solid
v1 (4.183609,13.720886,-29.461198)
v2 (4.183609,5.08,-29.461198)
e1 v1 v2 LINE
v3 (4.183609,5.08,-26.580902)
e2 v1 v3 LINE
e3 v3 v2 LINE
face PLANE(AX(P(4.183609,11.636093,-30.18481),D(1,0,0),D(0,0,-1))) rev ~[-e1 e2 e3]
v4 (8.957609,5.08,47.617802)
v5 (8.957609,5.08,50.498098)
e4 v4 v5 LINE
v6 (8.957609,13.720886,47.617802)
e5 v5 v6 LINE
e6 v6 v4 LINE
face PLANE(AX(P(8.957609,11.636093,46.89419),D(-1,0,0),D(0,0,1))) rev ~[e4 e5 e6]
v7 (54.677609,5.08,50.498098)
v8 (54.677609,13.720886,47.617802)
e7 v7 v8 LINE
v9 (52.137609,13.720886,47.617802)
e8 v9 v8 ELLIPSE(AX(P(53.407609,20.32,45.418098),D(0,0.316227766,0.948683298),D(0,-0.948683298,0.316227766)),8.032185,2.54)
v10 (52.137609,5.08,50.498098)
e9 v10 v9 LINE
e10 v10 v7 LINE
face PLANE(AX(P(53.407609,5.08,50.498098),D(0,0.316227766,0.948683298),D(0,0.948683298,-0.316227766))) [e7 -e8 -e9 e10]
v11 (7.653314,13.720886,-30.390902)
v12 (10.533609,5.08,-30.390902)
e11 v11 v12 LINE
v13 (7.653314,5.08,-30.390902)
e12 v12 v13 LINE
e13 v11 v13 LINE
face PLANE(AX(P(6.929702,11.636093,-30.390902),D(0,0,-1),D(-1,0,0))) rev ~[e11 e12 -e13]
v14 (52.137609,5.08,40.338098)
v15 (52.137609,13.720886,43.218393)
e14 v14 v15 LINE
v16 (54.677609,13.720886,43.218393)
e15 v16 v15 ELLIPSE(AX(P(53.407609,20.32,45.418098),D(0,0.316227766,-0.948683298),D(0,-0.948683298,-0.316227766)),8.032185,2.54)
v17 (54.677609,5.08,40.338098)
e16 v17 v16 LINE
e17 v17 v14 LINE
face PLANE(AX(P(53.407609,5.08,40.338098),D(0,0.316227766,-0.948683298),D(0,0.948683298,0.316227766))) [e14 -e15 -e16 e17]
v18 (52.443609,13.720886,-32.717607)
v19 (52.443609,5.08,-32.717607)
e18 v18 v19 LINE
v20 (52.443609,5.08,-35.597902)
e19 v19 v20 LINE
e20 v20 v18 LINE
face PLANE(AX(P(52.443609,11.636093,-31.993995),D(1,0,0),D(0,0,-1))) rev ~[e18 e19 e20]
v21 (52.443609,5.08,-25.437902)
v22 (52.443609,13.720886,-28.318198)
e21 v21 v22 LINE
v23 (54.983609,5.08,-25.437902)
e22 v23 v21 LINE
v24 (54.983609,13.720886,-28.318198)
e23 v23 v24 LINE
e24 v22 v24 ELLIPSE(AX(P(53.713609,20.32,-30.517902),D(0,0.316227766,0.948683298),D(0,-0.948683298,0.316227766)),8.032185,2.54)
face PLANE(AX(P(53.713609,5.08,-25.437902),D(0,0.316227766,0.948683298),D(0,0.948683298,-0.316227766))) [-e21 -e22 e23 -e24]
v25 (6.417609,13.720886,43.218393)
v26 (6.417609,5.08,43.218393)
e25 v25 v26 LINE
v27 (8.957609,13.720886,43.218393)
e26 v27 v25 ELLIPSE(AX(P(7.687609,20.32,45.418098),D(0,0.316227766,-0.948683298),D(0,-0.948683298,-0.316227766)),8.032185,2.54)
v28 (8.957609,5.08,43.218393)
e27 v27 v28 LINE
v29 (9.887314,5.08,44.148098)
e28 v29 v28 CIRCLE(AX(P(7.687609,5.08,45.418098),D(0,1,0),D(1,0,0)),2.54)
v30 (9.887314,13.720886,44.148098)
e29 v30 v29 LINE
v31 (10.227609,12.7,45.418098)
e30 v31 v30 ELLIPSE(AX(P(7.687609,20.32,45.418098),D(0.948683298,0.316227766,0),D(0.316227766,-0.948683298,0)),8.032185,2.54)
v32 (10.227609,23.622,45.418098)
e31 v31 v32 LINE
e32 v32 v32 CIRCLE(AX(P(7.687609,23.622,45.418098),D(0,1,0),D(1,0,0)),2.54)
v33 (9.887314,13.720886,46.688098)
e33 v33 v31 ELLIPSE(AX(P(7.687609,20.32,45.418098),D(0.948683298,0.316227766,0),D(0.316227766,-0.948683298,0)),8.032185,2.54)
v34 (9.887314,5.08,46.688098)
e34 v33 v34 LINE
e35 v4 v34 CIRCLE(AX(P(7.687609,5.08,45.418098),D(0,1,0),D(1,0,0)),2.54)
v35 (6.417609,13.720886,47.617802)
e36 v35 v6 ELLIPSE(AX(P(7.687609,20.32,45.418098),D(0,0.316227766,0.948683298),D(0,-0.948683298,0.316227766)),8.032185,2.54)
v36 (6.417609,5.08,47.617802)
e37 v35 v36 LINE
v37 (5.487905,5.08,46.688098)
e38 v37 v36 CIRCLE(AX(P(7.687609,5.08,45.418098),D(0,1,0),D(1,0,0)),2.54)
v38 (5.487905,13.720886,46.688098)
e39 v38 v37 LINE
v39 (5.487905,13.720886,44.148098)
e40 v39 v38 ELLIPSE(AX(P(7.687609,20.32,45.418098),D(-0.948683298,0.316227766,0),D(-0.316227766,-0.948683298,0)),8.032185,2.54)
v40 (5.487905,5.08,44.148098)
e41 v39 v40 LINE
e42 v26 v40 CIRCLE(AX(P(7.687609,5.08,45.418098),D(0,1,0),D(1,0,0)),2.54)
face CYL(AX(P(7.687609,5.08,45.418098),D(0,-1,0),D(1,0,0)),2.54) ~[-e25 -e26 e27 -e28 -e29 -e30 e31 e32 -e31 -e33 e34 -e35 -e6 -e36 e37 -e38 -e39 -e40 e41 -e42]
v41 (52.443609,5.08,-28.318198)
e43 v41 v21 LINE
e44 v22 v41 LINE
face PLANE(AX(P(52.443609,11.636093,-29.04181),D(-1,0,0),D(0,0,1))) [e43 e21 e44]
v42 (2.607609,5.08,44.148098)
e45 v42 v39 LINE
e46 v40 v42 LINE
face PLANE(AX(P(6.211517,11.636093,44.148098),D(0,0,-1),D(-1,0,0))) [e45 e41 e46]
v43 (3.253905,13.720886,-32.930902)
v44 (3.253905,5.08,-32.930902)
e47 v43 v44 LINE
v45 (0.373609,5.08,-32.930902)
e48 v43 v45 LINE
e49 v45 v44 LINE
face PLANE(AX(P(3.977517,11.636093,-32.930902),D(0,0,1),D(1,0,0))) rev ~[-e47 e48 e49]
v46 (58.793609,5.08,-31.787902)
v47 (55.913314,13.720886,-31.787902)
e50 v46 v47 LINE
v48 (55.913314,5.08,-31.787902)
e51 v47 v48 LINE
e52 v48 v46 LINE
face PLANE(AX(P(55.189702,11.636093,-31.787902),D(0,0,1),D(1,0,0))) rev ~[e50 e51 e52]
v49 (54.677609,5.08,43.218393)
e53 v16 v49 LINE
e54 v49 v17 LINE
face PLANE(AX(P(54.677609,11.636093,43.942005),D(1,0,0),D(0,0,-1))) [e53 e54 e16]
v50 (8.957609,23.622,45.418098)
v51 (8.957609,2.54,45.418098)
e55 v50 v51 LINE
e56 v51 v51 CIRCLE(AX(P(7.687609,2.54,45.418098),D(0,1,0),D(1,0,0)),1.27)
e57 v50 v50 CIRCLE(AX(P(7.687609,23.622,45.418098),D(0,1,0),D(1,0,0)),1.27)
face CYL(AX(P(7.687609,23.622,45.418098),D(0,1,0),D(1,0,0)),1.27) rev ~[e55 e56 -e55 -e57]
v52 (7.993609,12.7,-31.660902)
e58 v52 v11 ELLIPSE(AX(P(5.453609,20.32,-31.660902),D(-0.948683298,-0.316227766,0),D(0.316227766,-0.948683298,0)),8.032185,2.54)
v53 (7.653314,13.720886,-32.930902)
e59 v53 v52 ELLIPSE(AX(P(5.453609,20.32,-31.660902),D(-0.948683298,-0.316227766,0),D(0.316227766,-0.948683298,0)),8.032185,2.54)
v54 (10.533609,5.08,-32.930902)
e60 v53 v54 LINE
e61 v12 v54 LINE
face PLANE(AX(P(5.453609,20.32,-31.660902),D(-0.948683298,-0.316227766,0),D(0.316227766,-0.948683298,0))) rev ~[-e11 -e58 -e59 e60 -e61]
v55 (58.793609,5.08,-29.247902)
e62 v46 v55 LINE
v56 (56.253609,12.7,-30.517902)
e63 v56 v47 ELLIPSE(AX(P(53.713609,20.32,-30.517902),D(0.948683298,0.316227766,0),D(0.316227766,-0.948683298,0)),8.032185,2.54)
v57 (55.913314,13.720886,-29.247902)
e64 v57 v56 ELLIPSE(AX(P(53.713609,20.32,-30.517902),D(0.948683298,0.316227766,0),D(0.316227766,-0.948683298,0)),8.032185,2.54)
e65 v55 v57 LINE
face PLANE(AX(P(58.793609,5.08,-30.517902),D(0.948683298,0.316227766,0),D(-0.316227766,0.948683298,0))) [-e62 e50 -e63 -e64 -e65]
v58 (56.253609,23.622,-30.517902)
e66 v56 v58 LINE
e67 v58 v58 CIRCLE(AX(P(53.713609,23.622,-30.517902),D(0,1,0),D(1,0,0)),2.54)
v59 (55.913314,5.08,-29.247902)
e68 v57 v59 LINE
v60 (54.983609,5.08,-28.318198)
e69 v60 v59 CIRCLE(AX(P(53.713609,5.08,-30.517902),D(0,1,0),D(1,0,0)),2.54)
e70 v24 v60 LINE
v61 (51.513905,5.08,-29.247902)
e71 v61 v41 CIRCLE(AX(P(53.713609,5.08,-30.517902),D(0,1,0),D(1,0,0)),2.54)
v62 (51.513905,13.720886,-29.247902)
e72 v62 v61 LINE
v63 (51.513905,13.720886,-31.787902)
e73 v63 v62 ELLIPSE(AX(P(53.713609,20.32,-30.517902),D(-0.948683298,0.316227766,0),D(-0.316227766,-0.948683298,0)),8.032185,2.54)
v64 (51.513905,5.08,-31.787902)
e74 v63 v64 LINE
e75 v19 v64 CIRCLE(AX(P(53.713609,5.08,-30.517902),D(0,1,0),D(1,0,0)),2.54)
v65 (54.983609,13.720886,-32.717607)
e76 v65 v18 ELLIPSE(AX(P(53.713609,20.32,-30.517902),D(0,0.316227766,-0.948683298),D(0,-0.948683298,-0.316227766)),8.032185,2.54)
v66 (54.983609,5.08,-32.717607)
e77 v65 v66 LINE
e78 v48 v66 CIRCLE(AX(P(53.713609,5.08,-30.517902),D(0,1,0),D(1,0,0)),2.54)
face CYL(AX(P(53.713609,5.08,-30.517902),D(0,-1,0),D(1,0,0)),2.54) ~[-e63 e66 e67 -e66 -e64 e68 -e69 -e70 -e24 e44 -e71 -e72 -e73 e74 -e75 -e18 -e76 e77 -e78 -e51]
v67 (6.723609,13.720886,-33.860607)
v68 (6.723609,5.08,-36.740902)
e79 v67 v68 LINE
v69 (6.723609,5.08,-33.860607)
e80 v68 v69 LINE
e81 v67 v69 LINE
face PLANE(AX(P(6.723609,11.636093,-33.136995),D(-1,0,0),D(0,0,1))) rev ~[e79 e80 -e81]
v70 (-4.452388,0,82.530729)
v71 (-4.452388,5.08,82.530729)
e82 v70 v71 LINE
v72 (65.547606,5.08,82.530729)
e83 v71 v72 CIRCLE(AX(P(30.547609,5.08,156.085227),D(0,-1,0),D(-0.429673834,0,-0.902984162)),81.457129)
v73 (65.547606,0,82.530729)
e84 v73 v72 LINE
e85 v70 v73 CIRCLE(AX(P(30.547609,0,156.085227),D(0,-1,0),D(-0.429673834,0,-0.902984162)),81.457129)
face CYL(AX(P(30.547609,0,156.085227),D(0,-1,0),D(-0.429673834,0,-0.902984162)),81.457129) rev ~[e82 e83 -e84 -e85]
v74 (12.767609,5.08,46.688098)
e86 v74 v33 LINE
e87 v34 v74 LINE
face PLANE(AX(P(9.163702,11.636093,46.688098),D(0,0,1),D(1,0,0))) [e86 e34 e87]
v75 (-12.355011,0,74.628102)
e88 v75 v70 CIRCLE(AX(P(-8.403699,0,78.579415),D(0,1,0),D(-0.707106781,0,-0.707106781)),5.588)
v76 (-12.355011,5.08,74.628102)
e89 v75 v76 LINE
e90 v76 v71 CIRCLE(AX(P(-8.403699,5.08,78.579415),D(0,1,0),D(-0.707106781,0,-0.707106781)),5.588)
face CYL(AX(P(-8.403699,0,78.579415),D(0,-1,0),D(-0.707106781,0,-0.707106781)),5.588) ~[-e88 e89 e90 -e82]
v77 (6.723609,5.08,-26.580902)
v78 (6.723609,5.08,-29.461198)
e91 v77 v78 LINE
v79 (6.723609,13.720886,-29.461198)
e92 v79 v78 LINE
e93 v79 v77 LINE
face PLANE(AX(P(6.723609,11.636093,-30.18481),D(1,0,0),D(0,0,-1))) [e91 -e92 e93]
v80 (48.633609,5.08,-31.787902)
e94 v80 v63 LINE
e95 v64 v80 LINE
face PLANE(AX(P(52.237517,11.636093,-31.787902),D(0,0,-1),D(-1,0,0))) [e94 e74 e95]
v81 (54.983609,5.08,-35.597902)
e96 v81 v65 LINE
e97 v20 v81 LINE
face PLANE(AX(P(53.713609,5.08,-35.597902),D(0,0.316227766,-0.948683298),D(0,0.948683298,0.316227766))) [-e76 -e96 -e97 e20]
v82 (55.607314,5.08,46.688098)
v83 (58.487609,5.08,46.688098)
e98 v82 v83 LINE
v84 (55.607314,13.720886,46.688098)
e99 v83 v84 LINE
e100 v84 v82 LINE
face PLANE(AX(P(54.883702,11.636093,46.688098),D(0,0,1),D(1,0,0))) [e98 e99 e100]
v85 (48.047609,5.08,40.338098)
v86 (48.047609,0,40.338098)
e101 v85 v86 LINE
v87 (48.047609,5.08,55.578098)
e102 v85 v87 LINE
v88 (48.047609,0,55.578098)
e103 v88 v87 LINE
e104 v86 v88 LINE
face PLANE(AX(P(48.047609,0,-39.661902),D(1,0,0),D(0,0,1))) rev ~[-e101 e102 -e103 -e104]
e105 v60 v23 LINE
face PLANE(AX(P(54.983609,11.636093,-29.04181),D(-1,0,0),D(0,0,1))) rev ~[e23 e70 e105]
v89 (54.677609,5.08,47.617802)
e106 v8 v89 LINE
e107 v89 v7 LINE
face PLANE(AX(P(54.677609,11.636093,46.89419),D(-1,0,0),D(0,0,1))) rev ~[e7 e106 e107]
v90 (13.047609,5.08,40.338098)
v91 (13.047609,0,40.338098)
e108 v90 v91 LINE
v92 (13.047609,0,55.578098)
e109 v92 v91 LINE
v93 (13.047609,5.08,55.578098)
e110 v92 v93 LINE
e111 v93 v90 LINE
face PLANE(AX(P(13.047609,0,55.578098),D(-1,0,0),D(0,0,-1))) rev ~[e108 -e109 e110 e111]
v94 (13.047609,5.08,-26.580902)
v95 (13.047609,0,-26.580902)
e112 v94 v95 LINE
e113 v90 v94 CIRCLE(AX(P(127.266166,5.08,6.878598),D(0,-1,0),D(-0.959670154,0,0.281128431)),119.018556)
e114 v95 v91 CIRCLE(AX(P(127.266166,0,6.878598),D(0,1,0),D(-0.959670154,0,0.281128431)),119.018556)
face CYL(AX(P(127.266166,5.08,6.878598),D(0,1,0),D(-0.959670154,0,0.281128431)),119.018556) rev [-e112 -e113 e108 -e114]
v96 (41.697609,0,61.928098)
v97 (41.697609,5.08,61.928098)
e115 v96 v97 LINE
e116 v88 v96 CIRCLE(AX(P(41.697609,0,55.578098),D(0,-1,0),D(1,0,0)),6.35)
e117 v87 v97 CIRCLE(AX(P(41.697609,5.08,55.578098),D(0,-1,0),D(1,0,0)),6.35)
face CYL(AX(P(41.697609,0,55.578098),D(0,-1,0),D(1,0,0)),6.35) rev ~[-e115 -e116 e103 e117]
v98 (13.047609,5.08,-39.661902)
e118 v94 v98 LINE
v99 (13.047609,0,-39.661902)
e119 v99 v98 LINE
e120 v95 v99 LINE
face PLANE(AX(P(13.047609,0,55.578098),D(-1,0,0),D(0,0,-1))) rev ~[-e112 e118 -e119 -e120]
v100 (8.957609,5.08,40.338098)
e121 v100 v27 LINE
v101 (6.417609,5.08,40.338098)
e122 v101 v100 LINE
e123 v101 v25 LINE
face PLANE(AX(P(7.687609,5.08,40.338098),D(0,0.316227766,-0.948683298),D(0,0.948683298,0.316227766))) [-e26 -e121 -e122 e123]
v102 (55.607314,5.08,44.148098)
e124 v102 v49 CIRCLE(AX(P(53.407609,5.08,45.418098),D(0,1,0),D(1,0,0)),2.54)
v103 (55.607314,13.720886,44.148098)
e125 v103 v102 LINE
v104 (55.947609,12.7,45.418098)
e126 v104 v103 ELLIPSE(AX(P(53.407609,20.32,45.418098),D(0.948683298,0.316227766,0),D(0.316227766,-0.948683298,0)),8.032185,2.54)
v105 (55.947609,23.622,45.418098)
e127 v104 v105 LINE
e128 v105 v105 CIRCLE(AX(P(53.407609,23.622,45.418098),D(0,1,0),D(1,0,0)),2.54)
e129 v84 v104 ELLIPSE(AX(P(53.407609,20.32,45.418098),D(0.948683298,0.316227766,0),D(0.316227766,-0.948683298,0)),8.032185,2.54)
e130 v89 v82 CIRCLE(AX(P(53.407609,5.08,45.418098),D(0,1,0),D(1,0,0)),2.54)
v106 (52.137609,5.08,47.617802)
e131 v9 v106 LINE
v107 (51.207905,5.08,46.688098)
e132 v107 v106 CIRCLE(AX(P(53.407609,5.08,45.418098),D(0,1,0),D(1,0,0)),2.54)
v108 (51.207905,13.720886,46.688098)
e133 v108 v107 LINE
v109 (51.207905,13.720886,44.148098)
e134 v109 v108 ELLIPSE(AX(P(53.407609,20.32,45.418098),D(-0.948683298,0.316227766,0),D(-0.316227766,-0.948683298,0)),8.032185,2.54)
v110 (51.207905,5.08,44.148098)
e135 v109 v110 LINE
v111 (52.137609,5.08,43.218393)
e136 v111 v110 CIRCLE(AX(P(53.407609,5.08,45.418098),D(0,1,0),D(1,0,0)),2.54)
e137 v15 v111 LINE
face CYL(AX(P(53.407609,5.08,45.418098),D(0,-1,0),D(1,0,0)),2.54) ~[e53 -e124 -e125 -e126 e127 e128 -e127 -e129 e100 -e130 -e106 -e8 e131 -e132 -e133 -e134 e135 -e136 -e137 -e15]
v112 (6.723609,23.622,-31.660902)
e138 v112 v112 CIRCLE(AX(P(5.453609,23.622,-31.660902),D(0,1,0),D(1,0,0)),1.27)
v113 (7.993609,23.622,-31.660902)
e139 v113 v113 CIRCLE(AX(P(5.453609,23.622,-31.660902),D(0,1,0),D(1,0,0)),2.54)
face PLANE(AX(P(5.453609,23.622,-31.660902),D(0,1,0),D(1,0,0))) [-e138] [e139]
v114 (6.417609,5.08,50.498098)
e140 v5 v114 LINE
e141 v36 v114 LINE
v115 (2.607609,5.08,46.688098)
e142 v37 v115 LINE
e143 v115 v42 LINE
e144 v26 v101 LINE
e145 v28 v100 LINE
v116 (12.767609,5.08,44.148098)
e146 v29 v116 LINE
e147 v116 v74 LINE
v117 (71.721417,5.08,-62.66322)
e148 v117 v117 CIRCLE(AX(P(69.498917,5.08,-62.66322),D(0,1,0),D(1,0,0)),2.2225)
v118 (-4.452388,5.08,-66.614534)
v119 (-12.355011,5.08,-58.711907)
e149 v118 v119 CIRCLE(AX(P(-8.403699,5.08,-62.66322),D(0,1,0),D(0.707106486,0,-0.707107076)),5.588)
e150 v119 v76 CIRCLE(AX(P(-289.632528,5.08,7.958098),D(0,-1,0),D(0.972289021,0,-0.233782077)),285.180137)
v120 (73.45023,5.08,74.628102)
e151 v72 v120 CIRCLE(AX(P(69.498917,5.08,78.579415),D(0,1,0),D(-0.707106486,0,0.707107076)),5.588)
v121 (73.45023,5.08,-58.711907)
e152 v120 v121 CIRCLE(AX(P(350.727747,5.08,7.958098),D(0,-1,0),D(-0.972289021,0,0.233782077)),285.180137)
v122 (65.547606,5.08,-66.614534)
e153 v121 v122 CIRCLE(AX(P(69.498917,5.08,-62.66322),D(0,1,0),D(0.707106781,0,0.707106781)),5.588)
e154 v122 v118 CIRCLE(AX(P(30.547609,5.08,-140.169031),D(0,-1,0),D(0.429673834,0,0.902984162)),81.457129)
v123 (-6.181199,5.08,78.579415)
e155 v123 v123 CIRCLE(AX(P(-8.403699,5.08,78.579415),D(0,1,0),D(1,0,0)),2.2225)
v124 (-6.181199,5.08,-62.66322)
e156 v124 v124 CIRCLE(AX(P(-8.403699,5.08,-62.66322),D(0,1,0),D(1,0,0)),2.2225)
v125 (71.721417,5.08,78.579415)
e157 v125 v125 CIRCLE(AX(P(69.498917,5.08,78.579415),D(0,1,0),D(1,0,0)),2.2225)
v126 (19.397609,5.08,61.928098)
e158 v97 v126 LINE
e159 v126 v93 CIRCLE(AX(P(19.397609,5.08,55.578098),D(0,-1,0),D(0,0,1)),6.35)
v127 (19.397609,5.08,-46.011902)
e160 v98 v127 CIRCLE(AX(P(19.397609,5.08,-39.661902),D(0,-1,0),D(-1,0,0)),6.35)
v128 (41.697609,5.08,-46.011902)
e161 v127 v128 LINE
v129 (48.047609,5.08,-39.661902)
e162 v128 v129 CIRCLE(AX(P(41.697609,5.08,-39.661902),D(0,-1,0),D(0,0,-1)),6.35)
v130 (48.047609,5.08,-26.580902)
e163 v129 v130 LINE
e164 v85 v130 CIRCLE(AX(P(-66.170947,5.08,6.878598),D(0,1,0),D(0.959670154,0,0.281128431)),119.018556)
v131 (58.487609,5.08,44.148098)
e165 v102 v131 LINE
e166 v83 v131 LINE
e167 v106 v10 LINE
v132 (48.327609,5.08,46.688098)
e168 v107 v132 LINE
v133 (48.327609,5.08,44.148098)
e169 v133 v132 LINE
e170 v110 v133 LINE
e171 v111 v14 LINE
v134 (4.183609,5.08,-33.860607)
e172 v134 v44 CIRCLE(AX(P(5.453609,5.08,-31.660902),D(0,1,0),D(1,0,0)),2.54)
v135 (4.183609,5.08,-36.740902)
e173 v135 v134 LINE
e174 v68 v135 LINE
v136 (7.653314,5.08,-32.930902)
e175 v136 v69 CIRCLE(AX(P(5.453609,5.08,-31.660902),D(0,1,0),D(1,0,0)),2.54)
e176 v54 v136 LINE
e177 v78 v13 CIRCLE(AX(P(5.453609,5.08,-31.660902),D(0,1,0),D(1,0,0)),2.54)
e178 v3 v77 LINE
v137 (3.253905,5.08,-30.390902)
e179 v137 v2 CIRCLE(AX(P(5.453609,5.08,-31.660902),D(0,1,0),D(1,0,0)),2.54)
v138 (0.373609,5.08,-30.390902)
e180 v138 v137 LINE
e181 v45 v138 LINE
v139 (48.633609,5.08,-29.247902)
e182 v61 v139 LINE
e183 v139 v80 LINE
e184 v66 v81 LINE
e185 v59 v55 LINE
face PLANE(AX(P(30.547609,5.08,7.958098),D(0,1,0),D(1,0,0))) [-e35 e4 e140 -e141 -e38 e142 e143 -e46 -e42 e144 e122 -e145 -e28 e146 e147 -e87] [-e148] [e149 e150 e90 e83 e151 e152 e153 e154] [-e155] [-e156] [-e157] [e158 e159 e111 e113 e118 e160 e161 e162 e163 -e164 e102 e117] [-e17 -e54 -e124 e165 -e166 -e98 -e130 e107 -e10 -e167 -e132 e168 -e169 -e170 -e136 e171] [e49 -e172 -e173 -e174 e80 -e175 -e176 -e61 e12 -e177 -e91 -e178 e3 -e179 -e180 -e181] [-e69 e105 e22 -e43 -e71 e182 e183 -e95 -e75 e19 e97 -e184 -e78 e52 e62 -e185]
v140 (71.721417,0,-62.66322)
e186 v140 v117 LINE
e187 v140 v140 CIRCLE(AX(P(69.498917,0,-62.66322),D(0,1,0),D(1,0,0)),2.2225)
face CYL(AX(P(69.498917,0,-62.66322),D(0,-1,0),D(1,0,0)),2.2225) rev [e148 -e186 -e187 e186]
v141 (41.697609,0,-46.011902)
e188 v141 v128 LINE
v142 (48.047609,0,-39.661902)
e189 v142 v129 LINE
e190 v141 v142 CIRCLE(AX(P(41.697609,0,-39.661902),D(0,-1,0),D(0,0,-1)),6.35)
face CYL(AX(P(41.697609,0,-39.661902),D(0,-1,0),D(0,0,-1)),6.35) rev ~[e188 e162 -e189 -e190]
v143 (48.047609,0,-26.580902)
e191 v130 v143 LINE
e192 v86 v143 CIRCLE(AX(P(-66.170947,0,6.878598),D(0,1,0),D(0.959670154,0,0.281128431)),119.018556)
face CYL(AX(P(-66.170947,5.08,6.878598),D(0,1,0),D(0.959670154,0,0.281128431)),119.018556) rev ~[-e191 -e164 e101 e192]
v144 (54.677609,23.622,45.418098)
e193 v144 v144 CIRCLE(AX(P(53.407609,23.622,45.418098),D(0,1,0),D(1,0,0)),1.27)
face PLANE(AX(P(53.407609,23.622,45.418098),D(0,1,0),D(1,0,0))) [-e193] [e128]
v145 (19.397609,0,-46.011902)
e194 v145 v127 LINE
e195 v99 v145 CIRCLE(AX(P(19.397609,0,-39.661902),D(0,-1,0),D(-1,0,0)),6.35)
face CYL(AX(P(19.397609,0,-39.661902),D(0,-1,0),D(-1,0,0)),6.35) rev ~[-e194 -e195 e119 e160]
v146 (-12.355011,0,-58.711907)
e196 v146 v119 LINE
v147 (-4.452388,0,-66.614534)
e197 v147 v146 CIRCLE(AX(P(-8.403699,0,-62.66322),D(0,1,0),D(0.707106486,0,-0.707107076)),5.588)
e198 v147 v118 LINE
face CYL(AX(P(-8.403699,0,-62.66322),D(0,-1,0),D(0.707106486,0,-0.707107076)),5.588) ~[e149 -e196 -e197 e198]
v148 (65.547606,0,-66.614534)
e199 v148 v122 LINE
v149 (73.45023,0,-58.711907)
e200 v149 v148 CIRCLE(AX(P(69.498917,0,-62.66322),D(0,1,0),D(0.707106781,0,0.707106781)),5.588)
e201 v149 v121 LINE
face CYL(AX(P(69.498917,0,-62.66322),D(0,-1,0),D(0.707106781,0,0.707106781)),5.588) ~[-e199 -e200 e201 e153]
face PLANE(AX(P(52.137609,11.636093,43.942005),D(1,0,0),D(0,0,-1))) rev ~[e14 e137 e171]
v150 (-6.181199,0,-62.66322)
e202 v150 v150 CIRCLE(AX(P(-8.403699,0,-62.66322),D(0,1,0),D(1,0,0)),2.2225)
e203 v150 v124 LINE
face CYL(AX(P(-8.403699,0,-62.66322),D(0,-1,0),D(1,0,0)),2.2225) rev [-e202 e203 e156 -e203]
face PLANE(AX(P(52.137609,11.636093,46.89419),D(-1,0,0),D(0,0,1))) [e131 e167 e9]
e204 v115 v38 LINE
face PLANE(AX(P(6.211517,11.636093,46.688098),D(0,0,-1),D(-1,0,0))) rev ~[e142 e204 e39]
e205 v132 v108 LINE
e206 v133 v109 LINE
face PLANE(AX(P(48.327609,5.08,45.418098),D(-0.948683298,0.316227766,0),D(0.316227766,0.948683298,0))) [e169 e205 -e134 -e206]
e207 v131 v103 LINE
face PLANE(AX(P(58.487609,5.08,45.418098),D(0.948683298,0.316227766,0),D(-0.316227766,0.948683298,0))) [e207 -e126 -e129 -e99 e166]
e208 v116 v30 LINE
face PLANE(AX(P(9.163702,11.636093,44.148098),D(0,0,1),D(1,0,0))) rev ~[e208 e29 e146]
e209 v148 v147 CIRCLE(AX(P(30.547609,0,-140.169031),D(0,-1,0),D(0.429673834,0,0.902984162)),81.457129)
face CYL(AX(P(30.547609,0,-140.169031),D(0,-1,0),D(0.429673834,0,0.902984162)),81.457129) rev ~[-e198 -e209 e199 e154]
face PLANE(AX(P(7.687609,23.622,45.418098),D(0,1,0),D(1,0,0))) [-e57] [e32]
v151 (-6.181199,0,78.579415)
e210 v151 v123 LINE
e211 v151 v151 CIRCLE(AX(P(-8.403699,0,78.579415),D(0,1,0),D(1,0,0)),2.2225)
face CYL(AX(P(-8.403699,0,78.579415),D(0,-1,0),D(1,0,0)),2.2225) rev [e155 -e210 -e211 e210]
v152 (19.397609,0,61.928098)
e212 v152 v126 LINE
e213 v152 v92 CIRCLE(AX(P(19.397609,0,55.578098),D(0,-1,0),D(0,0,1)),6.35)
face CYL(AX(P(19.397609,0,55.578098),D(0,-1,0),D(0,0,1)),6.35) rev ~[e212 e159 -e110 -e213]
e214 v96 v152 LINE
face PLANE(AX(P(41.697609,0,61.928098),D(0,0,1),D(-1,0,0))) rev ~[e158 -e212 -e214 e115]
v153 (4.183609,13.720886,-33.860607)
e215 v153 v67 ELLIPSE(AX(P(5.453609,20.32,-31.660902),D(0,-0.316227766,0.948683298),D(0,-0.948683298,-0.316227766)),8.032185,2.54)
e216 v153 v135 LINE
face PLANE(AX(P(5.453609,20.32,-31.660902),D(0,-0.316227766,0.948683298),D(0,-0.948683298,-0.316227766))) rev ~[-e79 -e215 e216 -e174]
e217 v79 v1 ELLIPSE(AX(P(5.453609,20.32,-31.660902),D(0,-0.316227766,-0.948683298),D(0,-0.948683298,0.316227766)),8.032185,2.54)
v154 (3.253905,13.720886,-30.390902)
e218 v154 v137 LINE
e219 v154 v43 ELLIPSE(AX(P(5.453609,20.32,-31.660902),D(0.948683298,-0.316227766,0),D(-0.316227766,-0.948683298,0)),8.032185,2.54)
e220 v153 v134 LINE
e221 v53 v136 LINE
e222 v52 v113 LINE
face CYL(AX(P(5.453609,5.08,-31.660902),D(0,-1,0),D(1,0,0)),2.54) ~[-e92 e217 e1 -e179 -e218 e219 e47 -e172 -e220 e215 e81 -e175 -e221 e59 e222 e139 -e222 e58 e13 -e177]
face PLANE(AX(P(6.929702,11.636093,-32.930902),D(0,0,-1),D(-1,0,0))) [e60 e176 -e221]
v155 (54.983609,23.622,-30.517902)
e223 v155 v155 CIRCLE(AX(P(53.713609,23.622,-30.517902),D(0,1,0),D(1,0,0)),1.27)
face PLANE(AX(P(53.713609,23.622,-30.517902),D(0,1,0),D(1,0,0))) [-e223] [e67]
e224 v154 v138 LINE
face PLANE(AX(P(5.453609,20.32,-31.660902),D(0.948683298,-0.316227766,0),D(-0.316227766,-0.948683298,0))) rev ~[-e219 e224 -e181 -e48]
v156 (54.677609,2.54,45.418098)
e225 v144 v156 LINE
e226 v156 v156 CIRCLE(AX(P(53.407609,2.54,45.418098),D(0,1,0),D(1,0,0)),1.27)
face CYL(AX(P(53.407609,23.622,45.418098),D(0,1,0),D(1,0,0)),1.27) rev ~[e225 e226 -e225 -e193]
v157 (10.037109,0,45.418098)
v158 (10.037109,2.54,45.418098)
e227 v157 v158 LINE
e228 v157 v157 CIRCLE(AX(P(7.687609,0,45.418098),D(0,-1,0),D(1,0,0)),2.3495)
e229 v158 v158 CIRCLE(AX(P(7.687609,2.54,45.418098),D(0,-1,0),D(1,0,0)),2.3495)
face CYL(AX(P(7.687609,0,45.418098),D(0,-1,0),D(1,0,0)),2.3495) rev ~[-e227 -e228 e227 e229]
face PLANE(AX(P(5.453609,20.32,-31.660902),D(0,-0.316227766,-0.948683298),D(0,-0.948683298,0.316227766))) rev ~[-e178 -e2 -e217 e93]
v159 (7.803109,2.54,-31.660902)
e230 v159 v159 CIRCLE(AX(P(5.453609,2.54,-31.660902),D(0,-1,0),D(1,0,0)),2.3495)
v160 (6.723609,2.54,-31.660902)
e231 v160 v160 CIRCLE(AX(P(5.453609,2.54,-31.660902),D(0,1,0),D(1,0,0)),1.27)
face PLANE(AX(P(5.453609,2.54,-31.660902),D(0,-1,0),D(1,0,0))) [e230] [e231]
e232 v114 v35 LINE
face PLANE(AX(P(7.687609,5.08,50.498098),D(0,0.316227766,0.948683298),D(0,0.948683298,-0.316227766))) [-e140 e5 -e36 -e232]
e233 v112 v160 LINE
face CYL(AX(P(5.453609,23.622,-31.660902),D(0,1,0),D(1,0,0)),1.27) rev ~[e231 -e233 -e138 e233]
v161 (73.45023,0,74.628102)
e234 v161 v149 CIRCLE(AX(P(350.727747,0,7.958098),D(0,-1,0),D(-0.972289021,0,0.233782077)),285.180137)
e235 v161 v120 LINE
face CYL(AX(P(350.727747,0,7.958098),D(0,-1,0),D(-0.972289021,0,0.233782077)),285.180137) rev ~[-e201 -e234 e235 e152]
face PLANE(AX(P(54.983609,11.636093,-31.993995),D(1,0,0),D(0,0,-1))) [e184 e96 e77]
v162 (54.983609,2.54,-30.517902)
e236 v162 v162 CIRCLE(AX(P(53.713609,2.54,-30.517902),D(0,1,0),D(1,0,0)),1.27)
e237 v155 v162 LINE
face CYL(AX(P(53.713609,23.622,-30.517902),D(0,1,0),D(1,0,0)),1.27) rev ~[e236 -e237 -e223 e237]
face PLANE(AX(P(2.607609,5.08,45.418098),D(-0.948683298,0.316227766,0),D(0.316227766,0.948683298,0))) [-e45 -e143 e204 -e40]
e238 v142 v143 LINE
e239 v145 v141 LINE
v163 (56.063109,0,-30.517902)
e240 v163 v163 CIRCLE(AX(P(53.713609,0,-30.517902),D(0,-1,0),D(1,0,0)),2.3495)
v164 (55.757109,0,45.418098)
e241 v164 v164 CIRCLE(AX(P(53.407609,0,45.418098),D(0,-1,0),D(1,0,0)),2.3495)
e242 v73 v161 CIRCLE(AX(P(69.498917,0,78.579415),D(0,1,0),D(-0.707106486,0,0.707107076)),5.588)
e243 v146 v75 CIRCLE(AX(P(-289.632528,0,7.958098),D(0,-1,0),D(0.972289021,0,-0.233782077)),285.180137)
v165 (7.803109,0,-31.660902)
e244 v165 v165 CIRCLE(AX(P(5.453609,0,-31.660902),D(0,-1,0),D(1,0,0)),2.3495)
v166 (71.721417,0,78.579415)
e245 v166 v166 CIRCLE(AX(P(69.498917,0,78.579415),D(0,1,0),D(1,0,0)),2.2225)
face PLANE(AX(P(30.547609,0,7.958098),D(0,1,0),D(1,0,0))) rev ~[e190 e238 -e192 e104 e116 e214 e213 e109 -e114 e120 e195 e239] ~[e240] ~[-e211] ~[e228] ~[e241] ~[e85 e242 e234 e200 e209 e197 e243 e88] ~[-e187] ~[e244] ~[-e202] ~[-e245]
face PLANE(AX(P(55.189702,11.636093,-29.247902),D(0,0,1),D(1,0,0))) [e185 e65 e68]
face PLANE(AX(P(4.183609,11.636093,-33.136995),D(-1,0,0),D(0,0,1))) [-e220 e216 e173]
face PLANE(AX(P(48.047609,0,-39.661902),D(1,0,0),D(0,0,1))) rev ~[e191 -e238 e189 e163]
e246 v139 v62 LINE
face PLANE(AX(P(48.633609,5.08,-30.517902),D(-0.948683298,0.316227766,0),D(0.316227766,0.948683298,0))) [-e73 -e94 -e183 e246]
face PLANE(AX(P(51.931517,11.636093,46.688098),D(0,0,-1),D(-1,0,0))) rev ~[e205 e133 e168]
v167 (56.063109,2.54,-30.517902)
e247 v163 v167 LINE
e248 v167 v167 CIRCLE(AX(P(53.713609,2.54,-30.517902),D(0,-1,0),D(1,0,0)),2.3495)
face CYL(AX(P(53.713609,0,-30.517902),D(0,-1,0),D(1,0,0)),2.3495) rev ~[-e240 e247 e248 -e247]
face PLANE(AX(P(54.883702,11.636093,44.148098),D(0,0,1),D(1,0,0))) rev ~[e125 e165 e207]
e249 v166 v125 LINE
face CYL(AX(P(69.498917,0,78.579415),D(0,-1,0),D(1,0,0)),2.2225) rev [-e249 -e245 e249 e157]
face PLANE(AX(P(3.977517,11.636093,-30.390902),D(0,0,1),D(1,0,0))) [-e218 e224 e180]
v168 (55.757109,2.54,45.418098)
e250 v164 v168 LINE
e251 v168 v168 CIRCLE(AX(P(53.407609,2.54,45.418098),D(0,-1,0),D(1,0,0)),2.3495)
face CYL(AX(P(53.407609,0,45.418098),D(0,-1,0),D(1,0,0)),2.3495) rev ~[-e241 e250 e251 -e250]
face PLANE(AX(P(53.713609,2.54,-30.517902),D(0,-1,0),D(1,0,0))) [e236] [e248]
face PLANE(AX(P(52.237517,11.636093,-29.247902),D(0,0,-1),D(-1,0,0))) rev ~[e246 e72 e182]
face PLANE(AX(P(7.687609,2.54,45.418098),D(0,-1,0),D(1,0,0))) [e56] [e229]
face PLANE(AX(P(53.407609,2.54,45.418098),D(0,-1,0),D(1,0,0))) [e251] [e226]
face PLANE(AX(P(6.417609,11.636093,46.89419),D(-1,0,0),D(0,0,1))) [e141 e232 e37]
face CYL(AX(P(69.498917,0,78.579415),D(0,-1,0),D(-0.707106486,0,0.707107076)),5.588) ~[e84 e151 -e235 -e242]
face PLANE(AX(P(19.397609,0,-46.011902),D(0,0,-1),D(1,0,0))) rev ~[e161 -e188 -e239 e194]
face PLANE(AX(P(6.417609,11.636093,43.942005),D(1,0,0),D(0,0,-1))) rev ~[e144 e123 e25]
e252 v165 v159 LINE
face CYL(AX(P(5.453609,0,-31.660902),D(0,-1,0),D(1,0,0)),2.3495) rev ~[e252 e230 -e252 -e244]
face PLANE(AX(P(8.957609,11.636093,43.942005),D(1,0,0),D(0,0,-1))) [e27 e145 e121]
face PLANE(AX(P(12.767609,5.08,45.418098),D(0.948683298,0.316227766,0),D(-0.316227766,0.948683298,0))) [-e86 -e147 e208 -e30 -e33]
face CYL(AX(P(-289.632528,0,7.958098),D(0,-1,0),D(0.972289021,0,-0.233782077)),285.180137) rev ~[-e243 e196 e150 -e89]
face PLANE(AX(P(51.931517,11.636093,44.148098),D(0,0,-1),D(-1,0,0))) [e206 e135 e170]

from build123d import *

# Parameters (mm, degrees)
SKETCH2_R           = 2.2225
BOSS_EXTRUDE1_DEPTH = 5.08
SKETCH3_R           = 2.54
BOSS_EXTRUDE2_DEPTH = 18.542
CUT_EXTRUDE3_DEPTH  = 115.306625788
BOSS_EXTRUDE4_DEPTH = 1.27
BOSS_EXTRUDE5_DEPTH = 1.27
BOSS_EXTRUDE6_DEPTH = 1.27
CIRPATTERN2_COUNT   = 4
CIRPATTERN3_COUNT   = 4
CIRPATTERN4_COUNT   = 4
BOSS_EXTRUDE7_DEPTH = 1.27
CIRPATTERN5_COUNT   = 4
SKETCH4_R           = 1.27
CUT_EXTRUDE1_DEPTH  = 116.239740624
SKETCH15_R          = 2.3495
CUT_EXTRUDE4_DEPTH  = 2.54


with BuildPart() as part:
    # Sketch2 → Boss-Extrude1 (new body)
    with BuildSketch(Plane(origin=(0, 0, 0), x_dir=(1, 0, 0), z_dir=(0, 1, 0))):
        with BuildLine():
            ThreePointArc((-4.452387578, 66.61453395), (-12.35501214, 66.614531476), (-12.355011316, 58.711906914))
            ThreePointArc((-12.355011316, 58.711906914), (-4.452390572, -7.958097729), (-12.355011316, -74.628102372))
            ThreePointArc((-12.355011316, -74.628102372), (-12.35501214, -82.530726934), (-4.452387578, -82.530729408))
            ThreePointArc((-4.452387578, -82.530729408), (30.547609428, -74.628097729), (65.547606434, -82.530729408))
            ThreePointArc((65.547606434, -82.530729408), (73.450230996, -82.530726934), (73.450230171, -74.628102372))
            ThreePointArc((73.450230171, -74.628102372), (65.547609428, -7.958097729), (73.450230171, 58.711906914))
            ThreePointArc((73.450230171, 58.711906914), (73.450230996, 66.614531476), (65.547606434, 66.61453395))
            ThreePointArc((65.547606434, 66.61453395), (30.547609428, 58.711902271), (-4.452387578, 66.61453395))
        make_face()
        with Locations((-8.403698623, 62.663219607)):
            Circle(SKETCH2_R, mode=Mode.SUBTRACT)
        with BuildLine():
            Line((13.047609428, -55.578097729), (13.047609428, 33.309286171))
            Line((13.047609428, 33.309286171), (13.047609428, 39.661902271))
            ThreePointArc((13.047609428, 39.661902271), (14.907481367, 44.152030332), (19.397609428, 46.011902271))
            Line((19.397609428, 46.011902271), (41.697609428, 46.011902271))
            ThreePointArc((41.697609428, 46.011902271), (46.187737488, 44.152030332), (48.047609428, 39.661902271))
            Line((48.047609428, 39.661902271), (48.047609428, -55.578097729))
            ThreePointArc((48.047609428, -55.578097729), (46.187737488, -60.068225789), (41.697609428, -61.928097729))
            Line((41.697609428, -61.928097729), (19.397609428, -61.928097729))
            ThreePointArc((19.397609428, -61.928097729), (14.907481367, -60.068225789), (13.047609428, -55.578097729))
        make_face(mode=Mode.SUBTRACT)
        with Locations((69.498917478, 62.663219607)):
            Circle(SKETCH2_R, mode=Mode.SUBTRACT)
        with Locations((69.498917478, -78.579415065)):
            Circle(SKETCH2_R, mode=Mode.SUBTRACT)
        with Locations((-8.403698623, -78.579415065)):
            Circle(SKETCH2_R, mode=Mode.SUBTRACT)
    extrude(amount=BOSS_EXTRUDE1_DEPTH)

    # Sketch3 → Boss-Extrude2 (add)
    with BuildSketch(Plane(origin=(0, 5.08, 0), x_dir=(1, 0, 0), z_dir=(0, 1, 0))):
        with Locations((7.687609428, -45.418097729)):
            Circle(SKETCH3_R)
        with Locations((53.407609428, -45.418097729)):
            Circle(SKETCH3_R)
        with Locations((5.453609428, 31.660902271)):
            Circle(SKETCH3_R)
        with Locations((53.713609428, 30.517902271)):
            Circle(SKETCH3_R)
    extrude(amount=BOSS_EXTRUDE2_DEPTH)

    # Sketch6 → Cut-Extrude3 (cut, through all)
    with BuildSketch(Plane(origin=(0, 5.08, 0), x_dir=(1, 0, 0), z_dir=(0, 1, 0))):
        with BuildLine():
            Line((13.047609428, 26.580902271), (13.047609428, -40.338097729))
            ThreePointArc((13.047609428, -40.338097729), (8.247609428, -6.878597729), (13.047609428, 26.580902271))
        make_face()
        with BuildLine():
            Line((48.047609428, 26.580902271), (48.047609428, -40.338097729))
            ThreePointArc((48.047609428, -40.338097729), (52.847609428, -6.878597729), (48.047609428, 26.580902271))
        make_face()
    extrude(amount=-CUT_EXTRUDE3_DEPTH, mode=Mode.SUBTRACT)

    # Sketch11 → Boss-Extrude4 (add, symmetric)
    with BuildSketch(Plane.ZY.offset(-53.713609428)):
        Polygon((-30.517902271, 5.08), (-25.437902271, 5.08), (-30.517902271, 20.32), align=None)
    boss_extrude4 = extrude(amount=BOSS_EXTRUDE4_DEPTH, both=True)

    # Sketch12 → Boss-Extrude5 (add, symmetric)
    with BuildSketch(Plane.ZY.offset(-53.407609428)):
        Polygon((45.418097729, 20.32), (45.418097729, 5.08), (50.498097729, 5.08), align=None)
    boss_extrude5 = extrude(amount=BOSS_EXTRUDE5_DEPTH, both=True)

    # Sketch13 → Boss-Extrude6 (add, symmetric)
    with BuildSketch(Plane.ZY.offset(-7.687609428)):
        Polygon((45.418097729, 5.08), (50.498097729, 5.08), (45.418097729, 20.32), align=None)
    boss_extrude6 = extrude(amount=BOSS_EXTRUDE6_DEPTH, both=True)

    # CirPattern2: Boss-Extrude4 ×4 about axis
    cirpattern2_axis = Axis((53.713609428, 23.622, -30.517902271), (0, 1, 0))
    for i in range(1, CIRPATTERN2_COUNT):
        add(boss_extrude4.rotate(cirpattern2_axis, i * 360 / CIRPATTERN2_COUNT))

    # CirPattern3: Boss-Extrude5 ×4 about axis
    cirpattern3_axis = Axis((53.407609428, 23.622, 45.418097729), (0, 1, 0))
    for i in range(1, CIRPATTERN3_COUNT):
        add(boss_extrude5.rotate(cirpattern3_axis, i * 360 / CIRPATTERN3_COUNT))

    # CirPattern4: Boss-Extrude6 ×4 about axis
    cirpattern4_axis = Axis((7.687609428, 23.622, 45.418097729), (0, 1, 0))
    for i in range(1, CIRPATTERN4_COUNT):
        add(boss_extrude6.rotate(cirpattern4_axis, i * 360 / CIRPATTERN4_COUNT))

    # Sketch14 → Boss-Extrude7 (add, symmetric)
    with BuildSketch(Plane.ZY.offset(-5.453609428)):
        Polygon((-31.660902271, 20.32), (-26.580902271, 5.08), (-31.660902271, 5.08), align=None)
    boss_extrude7 = extrude(amount=BOSS_EXTRUDE7_DEPTH, both=True)

    # CirPattern5: Boss-Extrude7 ×4 about axis
    cirpattern5_axis = Axis((5.453609428, 23.622, -31.660902271), (0, 1, 0))
    for i in range(1, CIRPATTERN5_COUNT):
        add(boss_extrude7.rotate(cirpattern5_axis, i * 360 / CIRPATTERN5_COUNT))

    # Sketch4 → Cut-Extrude1 (cut, through all)
    with BuildSketch(Plane(origin=(0, 23.622, 0), x_dir=(1, 0, 0), z_dir=(0, 1, 0))):
        with Locations((5.453609428, 31.660902271)):
            Circle(SKETCH4_R)
        with Locations((53.713609428, 30.517902271)):
            Circle(SKETCH4_R)
        with Locations((53.407609428, -45.418097729)):
            Circle(SKETCH4_R)
        with Locations((7.687609428, -45.418097729)):
            Circle(SKETCH4_R)
    extrude(amount=-CUT_EXTRUDE1_DEPTH, mode=Mode.SUBTRACT)

    # Sketch15 → Cut-Extrude4 (cut)
    with BuildSketch(Plane.XZ):
        with Locations((53.713609428, -30.517902271)):
            Circle(SKETCH15_R)
        with Locations((5.453609428, -31.660902271)):
            Circle(SKETCH15_R)
        with Locations((7.687609428, 45.418097729)):
            Circle(SKETCH15_R)
        with Locations((53.407609428, 45.418097729)):
            Circle(SKETCH15_R)
    extrude(amount=-CUT_EXTRUDE4_DEPTH, mode=Mode.SUBTRACT)


solid = part.part
